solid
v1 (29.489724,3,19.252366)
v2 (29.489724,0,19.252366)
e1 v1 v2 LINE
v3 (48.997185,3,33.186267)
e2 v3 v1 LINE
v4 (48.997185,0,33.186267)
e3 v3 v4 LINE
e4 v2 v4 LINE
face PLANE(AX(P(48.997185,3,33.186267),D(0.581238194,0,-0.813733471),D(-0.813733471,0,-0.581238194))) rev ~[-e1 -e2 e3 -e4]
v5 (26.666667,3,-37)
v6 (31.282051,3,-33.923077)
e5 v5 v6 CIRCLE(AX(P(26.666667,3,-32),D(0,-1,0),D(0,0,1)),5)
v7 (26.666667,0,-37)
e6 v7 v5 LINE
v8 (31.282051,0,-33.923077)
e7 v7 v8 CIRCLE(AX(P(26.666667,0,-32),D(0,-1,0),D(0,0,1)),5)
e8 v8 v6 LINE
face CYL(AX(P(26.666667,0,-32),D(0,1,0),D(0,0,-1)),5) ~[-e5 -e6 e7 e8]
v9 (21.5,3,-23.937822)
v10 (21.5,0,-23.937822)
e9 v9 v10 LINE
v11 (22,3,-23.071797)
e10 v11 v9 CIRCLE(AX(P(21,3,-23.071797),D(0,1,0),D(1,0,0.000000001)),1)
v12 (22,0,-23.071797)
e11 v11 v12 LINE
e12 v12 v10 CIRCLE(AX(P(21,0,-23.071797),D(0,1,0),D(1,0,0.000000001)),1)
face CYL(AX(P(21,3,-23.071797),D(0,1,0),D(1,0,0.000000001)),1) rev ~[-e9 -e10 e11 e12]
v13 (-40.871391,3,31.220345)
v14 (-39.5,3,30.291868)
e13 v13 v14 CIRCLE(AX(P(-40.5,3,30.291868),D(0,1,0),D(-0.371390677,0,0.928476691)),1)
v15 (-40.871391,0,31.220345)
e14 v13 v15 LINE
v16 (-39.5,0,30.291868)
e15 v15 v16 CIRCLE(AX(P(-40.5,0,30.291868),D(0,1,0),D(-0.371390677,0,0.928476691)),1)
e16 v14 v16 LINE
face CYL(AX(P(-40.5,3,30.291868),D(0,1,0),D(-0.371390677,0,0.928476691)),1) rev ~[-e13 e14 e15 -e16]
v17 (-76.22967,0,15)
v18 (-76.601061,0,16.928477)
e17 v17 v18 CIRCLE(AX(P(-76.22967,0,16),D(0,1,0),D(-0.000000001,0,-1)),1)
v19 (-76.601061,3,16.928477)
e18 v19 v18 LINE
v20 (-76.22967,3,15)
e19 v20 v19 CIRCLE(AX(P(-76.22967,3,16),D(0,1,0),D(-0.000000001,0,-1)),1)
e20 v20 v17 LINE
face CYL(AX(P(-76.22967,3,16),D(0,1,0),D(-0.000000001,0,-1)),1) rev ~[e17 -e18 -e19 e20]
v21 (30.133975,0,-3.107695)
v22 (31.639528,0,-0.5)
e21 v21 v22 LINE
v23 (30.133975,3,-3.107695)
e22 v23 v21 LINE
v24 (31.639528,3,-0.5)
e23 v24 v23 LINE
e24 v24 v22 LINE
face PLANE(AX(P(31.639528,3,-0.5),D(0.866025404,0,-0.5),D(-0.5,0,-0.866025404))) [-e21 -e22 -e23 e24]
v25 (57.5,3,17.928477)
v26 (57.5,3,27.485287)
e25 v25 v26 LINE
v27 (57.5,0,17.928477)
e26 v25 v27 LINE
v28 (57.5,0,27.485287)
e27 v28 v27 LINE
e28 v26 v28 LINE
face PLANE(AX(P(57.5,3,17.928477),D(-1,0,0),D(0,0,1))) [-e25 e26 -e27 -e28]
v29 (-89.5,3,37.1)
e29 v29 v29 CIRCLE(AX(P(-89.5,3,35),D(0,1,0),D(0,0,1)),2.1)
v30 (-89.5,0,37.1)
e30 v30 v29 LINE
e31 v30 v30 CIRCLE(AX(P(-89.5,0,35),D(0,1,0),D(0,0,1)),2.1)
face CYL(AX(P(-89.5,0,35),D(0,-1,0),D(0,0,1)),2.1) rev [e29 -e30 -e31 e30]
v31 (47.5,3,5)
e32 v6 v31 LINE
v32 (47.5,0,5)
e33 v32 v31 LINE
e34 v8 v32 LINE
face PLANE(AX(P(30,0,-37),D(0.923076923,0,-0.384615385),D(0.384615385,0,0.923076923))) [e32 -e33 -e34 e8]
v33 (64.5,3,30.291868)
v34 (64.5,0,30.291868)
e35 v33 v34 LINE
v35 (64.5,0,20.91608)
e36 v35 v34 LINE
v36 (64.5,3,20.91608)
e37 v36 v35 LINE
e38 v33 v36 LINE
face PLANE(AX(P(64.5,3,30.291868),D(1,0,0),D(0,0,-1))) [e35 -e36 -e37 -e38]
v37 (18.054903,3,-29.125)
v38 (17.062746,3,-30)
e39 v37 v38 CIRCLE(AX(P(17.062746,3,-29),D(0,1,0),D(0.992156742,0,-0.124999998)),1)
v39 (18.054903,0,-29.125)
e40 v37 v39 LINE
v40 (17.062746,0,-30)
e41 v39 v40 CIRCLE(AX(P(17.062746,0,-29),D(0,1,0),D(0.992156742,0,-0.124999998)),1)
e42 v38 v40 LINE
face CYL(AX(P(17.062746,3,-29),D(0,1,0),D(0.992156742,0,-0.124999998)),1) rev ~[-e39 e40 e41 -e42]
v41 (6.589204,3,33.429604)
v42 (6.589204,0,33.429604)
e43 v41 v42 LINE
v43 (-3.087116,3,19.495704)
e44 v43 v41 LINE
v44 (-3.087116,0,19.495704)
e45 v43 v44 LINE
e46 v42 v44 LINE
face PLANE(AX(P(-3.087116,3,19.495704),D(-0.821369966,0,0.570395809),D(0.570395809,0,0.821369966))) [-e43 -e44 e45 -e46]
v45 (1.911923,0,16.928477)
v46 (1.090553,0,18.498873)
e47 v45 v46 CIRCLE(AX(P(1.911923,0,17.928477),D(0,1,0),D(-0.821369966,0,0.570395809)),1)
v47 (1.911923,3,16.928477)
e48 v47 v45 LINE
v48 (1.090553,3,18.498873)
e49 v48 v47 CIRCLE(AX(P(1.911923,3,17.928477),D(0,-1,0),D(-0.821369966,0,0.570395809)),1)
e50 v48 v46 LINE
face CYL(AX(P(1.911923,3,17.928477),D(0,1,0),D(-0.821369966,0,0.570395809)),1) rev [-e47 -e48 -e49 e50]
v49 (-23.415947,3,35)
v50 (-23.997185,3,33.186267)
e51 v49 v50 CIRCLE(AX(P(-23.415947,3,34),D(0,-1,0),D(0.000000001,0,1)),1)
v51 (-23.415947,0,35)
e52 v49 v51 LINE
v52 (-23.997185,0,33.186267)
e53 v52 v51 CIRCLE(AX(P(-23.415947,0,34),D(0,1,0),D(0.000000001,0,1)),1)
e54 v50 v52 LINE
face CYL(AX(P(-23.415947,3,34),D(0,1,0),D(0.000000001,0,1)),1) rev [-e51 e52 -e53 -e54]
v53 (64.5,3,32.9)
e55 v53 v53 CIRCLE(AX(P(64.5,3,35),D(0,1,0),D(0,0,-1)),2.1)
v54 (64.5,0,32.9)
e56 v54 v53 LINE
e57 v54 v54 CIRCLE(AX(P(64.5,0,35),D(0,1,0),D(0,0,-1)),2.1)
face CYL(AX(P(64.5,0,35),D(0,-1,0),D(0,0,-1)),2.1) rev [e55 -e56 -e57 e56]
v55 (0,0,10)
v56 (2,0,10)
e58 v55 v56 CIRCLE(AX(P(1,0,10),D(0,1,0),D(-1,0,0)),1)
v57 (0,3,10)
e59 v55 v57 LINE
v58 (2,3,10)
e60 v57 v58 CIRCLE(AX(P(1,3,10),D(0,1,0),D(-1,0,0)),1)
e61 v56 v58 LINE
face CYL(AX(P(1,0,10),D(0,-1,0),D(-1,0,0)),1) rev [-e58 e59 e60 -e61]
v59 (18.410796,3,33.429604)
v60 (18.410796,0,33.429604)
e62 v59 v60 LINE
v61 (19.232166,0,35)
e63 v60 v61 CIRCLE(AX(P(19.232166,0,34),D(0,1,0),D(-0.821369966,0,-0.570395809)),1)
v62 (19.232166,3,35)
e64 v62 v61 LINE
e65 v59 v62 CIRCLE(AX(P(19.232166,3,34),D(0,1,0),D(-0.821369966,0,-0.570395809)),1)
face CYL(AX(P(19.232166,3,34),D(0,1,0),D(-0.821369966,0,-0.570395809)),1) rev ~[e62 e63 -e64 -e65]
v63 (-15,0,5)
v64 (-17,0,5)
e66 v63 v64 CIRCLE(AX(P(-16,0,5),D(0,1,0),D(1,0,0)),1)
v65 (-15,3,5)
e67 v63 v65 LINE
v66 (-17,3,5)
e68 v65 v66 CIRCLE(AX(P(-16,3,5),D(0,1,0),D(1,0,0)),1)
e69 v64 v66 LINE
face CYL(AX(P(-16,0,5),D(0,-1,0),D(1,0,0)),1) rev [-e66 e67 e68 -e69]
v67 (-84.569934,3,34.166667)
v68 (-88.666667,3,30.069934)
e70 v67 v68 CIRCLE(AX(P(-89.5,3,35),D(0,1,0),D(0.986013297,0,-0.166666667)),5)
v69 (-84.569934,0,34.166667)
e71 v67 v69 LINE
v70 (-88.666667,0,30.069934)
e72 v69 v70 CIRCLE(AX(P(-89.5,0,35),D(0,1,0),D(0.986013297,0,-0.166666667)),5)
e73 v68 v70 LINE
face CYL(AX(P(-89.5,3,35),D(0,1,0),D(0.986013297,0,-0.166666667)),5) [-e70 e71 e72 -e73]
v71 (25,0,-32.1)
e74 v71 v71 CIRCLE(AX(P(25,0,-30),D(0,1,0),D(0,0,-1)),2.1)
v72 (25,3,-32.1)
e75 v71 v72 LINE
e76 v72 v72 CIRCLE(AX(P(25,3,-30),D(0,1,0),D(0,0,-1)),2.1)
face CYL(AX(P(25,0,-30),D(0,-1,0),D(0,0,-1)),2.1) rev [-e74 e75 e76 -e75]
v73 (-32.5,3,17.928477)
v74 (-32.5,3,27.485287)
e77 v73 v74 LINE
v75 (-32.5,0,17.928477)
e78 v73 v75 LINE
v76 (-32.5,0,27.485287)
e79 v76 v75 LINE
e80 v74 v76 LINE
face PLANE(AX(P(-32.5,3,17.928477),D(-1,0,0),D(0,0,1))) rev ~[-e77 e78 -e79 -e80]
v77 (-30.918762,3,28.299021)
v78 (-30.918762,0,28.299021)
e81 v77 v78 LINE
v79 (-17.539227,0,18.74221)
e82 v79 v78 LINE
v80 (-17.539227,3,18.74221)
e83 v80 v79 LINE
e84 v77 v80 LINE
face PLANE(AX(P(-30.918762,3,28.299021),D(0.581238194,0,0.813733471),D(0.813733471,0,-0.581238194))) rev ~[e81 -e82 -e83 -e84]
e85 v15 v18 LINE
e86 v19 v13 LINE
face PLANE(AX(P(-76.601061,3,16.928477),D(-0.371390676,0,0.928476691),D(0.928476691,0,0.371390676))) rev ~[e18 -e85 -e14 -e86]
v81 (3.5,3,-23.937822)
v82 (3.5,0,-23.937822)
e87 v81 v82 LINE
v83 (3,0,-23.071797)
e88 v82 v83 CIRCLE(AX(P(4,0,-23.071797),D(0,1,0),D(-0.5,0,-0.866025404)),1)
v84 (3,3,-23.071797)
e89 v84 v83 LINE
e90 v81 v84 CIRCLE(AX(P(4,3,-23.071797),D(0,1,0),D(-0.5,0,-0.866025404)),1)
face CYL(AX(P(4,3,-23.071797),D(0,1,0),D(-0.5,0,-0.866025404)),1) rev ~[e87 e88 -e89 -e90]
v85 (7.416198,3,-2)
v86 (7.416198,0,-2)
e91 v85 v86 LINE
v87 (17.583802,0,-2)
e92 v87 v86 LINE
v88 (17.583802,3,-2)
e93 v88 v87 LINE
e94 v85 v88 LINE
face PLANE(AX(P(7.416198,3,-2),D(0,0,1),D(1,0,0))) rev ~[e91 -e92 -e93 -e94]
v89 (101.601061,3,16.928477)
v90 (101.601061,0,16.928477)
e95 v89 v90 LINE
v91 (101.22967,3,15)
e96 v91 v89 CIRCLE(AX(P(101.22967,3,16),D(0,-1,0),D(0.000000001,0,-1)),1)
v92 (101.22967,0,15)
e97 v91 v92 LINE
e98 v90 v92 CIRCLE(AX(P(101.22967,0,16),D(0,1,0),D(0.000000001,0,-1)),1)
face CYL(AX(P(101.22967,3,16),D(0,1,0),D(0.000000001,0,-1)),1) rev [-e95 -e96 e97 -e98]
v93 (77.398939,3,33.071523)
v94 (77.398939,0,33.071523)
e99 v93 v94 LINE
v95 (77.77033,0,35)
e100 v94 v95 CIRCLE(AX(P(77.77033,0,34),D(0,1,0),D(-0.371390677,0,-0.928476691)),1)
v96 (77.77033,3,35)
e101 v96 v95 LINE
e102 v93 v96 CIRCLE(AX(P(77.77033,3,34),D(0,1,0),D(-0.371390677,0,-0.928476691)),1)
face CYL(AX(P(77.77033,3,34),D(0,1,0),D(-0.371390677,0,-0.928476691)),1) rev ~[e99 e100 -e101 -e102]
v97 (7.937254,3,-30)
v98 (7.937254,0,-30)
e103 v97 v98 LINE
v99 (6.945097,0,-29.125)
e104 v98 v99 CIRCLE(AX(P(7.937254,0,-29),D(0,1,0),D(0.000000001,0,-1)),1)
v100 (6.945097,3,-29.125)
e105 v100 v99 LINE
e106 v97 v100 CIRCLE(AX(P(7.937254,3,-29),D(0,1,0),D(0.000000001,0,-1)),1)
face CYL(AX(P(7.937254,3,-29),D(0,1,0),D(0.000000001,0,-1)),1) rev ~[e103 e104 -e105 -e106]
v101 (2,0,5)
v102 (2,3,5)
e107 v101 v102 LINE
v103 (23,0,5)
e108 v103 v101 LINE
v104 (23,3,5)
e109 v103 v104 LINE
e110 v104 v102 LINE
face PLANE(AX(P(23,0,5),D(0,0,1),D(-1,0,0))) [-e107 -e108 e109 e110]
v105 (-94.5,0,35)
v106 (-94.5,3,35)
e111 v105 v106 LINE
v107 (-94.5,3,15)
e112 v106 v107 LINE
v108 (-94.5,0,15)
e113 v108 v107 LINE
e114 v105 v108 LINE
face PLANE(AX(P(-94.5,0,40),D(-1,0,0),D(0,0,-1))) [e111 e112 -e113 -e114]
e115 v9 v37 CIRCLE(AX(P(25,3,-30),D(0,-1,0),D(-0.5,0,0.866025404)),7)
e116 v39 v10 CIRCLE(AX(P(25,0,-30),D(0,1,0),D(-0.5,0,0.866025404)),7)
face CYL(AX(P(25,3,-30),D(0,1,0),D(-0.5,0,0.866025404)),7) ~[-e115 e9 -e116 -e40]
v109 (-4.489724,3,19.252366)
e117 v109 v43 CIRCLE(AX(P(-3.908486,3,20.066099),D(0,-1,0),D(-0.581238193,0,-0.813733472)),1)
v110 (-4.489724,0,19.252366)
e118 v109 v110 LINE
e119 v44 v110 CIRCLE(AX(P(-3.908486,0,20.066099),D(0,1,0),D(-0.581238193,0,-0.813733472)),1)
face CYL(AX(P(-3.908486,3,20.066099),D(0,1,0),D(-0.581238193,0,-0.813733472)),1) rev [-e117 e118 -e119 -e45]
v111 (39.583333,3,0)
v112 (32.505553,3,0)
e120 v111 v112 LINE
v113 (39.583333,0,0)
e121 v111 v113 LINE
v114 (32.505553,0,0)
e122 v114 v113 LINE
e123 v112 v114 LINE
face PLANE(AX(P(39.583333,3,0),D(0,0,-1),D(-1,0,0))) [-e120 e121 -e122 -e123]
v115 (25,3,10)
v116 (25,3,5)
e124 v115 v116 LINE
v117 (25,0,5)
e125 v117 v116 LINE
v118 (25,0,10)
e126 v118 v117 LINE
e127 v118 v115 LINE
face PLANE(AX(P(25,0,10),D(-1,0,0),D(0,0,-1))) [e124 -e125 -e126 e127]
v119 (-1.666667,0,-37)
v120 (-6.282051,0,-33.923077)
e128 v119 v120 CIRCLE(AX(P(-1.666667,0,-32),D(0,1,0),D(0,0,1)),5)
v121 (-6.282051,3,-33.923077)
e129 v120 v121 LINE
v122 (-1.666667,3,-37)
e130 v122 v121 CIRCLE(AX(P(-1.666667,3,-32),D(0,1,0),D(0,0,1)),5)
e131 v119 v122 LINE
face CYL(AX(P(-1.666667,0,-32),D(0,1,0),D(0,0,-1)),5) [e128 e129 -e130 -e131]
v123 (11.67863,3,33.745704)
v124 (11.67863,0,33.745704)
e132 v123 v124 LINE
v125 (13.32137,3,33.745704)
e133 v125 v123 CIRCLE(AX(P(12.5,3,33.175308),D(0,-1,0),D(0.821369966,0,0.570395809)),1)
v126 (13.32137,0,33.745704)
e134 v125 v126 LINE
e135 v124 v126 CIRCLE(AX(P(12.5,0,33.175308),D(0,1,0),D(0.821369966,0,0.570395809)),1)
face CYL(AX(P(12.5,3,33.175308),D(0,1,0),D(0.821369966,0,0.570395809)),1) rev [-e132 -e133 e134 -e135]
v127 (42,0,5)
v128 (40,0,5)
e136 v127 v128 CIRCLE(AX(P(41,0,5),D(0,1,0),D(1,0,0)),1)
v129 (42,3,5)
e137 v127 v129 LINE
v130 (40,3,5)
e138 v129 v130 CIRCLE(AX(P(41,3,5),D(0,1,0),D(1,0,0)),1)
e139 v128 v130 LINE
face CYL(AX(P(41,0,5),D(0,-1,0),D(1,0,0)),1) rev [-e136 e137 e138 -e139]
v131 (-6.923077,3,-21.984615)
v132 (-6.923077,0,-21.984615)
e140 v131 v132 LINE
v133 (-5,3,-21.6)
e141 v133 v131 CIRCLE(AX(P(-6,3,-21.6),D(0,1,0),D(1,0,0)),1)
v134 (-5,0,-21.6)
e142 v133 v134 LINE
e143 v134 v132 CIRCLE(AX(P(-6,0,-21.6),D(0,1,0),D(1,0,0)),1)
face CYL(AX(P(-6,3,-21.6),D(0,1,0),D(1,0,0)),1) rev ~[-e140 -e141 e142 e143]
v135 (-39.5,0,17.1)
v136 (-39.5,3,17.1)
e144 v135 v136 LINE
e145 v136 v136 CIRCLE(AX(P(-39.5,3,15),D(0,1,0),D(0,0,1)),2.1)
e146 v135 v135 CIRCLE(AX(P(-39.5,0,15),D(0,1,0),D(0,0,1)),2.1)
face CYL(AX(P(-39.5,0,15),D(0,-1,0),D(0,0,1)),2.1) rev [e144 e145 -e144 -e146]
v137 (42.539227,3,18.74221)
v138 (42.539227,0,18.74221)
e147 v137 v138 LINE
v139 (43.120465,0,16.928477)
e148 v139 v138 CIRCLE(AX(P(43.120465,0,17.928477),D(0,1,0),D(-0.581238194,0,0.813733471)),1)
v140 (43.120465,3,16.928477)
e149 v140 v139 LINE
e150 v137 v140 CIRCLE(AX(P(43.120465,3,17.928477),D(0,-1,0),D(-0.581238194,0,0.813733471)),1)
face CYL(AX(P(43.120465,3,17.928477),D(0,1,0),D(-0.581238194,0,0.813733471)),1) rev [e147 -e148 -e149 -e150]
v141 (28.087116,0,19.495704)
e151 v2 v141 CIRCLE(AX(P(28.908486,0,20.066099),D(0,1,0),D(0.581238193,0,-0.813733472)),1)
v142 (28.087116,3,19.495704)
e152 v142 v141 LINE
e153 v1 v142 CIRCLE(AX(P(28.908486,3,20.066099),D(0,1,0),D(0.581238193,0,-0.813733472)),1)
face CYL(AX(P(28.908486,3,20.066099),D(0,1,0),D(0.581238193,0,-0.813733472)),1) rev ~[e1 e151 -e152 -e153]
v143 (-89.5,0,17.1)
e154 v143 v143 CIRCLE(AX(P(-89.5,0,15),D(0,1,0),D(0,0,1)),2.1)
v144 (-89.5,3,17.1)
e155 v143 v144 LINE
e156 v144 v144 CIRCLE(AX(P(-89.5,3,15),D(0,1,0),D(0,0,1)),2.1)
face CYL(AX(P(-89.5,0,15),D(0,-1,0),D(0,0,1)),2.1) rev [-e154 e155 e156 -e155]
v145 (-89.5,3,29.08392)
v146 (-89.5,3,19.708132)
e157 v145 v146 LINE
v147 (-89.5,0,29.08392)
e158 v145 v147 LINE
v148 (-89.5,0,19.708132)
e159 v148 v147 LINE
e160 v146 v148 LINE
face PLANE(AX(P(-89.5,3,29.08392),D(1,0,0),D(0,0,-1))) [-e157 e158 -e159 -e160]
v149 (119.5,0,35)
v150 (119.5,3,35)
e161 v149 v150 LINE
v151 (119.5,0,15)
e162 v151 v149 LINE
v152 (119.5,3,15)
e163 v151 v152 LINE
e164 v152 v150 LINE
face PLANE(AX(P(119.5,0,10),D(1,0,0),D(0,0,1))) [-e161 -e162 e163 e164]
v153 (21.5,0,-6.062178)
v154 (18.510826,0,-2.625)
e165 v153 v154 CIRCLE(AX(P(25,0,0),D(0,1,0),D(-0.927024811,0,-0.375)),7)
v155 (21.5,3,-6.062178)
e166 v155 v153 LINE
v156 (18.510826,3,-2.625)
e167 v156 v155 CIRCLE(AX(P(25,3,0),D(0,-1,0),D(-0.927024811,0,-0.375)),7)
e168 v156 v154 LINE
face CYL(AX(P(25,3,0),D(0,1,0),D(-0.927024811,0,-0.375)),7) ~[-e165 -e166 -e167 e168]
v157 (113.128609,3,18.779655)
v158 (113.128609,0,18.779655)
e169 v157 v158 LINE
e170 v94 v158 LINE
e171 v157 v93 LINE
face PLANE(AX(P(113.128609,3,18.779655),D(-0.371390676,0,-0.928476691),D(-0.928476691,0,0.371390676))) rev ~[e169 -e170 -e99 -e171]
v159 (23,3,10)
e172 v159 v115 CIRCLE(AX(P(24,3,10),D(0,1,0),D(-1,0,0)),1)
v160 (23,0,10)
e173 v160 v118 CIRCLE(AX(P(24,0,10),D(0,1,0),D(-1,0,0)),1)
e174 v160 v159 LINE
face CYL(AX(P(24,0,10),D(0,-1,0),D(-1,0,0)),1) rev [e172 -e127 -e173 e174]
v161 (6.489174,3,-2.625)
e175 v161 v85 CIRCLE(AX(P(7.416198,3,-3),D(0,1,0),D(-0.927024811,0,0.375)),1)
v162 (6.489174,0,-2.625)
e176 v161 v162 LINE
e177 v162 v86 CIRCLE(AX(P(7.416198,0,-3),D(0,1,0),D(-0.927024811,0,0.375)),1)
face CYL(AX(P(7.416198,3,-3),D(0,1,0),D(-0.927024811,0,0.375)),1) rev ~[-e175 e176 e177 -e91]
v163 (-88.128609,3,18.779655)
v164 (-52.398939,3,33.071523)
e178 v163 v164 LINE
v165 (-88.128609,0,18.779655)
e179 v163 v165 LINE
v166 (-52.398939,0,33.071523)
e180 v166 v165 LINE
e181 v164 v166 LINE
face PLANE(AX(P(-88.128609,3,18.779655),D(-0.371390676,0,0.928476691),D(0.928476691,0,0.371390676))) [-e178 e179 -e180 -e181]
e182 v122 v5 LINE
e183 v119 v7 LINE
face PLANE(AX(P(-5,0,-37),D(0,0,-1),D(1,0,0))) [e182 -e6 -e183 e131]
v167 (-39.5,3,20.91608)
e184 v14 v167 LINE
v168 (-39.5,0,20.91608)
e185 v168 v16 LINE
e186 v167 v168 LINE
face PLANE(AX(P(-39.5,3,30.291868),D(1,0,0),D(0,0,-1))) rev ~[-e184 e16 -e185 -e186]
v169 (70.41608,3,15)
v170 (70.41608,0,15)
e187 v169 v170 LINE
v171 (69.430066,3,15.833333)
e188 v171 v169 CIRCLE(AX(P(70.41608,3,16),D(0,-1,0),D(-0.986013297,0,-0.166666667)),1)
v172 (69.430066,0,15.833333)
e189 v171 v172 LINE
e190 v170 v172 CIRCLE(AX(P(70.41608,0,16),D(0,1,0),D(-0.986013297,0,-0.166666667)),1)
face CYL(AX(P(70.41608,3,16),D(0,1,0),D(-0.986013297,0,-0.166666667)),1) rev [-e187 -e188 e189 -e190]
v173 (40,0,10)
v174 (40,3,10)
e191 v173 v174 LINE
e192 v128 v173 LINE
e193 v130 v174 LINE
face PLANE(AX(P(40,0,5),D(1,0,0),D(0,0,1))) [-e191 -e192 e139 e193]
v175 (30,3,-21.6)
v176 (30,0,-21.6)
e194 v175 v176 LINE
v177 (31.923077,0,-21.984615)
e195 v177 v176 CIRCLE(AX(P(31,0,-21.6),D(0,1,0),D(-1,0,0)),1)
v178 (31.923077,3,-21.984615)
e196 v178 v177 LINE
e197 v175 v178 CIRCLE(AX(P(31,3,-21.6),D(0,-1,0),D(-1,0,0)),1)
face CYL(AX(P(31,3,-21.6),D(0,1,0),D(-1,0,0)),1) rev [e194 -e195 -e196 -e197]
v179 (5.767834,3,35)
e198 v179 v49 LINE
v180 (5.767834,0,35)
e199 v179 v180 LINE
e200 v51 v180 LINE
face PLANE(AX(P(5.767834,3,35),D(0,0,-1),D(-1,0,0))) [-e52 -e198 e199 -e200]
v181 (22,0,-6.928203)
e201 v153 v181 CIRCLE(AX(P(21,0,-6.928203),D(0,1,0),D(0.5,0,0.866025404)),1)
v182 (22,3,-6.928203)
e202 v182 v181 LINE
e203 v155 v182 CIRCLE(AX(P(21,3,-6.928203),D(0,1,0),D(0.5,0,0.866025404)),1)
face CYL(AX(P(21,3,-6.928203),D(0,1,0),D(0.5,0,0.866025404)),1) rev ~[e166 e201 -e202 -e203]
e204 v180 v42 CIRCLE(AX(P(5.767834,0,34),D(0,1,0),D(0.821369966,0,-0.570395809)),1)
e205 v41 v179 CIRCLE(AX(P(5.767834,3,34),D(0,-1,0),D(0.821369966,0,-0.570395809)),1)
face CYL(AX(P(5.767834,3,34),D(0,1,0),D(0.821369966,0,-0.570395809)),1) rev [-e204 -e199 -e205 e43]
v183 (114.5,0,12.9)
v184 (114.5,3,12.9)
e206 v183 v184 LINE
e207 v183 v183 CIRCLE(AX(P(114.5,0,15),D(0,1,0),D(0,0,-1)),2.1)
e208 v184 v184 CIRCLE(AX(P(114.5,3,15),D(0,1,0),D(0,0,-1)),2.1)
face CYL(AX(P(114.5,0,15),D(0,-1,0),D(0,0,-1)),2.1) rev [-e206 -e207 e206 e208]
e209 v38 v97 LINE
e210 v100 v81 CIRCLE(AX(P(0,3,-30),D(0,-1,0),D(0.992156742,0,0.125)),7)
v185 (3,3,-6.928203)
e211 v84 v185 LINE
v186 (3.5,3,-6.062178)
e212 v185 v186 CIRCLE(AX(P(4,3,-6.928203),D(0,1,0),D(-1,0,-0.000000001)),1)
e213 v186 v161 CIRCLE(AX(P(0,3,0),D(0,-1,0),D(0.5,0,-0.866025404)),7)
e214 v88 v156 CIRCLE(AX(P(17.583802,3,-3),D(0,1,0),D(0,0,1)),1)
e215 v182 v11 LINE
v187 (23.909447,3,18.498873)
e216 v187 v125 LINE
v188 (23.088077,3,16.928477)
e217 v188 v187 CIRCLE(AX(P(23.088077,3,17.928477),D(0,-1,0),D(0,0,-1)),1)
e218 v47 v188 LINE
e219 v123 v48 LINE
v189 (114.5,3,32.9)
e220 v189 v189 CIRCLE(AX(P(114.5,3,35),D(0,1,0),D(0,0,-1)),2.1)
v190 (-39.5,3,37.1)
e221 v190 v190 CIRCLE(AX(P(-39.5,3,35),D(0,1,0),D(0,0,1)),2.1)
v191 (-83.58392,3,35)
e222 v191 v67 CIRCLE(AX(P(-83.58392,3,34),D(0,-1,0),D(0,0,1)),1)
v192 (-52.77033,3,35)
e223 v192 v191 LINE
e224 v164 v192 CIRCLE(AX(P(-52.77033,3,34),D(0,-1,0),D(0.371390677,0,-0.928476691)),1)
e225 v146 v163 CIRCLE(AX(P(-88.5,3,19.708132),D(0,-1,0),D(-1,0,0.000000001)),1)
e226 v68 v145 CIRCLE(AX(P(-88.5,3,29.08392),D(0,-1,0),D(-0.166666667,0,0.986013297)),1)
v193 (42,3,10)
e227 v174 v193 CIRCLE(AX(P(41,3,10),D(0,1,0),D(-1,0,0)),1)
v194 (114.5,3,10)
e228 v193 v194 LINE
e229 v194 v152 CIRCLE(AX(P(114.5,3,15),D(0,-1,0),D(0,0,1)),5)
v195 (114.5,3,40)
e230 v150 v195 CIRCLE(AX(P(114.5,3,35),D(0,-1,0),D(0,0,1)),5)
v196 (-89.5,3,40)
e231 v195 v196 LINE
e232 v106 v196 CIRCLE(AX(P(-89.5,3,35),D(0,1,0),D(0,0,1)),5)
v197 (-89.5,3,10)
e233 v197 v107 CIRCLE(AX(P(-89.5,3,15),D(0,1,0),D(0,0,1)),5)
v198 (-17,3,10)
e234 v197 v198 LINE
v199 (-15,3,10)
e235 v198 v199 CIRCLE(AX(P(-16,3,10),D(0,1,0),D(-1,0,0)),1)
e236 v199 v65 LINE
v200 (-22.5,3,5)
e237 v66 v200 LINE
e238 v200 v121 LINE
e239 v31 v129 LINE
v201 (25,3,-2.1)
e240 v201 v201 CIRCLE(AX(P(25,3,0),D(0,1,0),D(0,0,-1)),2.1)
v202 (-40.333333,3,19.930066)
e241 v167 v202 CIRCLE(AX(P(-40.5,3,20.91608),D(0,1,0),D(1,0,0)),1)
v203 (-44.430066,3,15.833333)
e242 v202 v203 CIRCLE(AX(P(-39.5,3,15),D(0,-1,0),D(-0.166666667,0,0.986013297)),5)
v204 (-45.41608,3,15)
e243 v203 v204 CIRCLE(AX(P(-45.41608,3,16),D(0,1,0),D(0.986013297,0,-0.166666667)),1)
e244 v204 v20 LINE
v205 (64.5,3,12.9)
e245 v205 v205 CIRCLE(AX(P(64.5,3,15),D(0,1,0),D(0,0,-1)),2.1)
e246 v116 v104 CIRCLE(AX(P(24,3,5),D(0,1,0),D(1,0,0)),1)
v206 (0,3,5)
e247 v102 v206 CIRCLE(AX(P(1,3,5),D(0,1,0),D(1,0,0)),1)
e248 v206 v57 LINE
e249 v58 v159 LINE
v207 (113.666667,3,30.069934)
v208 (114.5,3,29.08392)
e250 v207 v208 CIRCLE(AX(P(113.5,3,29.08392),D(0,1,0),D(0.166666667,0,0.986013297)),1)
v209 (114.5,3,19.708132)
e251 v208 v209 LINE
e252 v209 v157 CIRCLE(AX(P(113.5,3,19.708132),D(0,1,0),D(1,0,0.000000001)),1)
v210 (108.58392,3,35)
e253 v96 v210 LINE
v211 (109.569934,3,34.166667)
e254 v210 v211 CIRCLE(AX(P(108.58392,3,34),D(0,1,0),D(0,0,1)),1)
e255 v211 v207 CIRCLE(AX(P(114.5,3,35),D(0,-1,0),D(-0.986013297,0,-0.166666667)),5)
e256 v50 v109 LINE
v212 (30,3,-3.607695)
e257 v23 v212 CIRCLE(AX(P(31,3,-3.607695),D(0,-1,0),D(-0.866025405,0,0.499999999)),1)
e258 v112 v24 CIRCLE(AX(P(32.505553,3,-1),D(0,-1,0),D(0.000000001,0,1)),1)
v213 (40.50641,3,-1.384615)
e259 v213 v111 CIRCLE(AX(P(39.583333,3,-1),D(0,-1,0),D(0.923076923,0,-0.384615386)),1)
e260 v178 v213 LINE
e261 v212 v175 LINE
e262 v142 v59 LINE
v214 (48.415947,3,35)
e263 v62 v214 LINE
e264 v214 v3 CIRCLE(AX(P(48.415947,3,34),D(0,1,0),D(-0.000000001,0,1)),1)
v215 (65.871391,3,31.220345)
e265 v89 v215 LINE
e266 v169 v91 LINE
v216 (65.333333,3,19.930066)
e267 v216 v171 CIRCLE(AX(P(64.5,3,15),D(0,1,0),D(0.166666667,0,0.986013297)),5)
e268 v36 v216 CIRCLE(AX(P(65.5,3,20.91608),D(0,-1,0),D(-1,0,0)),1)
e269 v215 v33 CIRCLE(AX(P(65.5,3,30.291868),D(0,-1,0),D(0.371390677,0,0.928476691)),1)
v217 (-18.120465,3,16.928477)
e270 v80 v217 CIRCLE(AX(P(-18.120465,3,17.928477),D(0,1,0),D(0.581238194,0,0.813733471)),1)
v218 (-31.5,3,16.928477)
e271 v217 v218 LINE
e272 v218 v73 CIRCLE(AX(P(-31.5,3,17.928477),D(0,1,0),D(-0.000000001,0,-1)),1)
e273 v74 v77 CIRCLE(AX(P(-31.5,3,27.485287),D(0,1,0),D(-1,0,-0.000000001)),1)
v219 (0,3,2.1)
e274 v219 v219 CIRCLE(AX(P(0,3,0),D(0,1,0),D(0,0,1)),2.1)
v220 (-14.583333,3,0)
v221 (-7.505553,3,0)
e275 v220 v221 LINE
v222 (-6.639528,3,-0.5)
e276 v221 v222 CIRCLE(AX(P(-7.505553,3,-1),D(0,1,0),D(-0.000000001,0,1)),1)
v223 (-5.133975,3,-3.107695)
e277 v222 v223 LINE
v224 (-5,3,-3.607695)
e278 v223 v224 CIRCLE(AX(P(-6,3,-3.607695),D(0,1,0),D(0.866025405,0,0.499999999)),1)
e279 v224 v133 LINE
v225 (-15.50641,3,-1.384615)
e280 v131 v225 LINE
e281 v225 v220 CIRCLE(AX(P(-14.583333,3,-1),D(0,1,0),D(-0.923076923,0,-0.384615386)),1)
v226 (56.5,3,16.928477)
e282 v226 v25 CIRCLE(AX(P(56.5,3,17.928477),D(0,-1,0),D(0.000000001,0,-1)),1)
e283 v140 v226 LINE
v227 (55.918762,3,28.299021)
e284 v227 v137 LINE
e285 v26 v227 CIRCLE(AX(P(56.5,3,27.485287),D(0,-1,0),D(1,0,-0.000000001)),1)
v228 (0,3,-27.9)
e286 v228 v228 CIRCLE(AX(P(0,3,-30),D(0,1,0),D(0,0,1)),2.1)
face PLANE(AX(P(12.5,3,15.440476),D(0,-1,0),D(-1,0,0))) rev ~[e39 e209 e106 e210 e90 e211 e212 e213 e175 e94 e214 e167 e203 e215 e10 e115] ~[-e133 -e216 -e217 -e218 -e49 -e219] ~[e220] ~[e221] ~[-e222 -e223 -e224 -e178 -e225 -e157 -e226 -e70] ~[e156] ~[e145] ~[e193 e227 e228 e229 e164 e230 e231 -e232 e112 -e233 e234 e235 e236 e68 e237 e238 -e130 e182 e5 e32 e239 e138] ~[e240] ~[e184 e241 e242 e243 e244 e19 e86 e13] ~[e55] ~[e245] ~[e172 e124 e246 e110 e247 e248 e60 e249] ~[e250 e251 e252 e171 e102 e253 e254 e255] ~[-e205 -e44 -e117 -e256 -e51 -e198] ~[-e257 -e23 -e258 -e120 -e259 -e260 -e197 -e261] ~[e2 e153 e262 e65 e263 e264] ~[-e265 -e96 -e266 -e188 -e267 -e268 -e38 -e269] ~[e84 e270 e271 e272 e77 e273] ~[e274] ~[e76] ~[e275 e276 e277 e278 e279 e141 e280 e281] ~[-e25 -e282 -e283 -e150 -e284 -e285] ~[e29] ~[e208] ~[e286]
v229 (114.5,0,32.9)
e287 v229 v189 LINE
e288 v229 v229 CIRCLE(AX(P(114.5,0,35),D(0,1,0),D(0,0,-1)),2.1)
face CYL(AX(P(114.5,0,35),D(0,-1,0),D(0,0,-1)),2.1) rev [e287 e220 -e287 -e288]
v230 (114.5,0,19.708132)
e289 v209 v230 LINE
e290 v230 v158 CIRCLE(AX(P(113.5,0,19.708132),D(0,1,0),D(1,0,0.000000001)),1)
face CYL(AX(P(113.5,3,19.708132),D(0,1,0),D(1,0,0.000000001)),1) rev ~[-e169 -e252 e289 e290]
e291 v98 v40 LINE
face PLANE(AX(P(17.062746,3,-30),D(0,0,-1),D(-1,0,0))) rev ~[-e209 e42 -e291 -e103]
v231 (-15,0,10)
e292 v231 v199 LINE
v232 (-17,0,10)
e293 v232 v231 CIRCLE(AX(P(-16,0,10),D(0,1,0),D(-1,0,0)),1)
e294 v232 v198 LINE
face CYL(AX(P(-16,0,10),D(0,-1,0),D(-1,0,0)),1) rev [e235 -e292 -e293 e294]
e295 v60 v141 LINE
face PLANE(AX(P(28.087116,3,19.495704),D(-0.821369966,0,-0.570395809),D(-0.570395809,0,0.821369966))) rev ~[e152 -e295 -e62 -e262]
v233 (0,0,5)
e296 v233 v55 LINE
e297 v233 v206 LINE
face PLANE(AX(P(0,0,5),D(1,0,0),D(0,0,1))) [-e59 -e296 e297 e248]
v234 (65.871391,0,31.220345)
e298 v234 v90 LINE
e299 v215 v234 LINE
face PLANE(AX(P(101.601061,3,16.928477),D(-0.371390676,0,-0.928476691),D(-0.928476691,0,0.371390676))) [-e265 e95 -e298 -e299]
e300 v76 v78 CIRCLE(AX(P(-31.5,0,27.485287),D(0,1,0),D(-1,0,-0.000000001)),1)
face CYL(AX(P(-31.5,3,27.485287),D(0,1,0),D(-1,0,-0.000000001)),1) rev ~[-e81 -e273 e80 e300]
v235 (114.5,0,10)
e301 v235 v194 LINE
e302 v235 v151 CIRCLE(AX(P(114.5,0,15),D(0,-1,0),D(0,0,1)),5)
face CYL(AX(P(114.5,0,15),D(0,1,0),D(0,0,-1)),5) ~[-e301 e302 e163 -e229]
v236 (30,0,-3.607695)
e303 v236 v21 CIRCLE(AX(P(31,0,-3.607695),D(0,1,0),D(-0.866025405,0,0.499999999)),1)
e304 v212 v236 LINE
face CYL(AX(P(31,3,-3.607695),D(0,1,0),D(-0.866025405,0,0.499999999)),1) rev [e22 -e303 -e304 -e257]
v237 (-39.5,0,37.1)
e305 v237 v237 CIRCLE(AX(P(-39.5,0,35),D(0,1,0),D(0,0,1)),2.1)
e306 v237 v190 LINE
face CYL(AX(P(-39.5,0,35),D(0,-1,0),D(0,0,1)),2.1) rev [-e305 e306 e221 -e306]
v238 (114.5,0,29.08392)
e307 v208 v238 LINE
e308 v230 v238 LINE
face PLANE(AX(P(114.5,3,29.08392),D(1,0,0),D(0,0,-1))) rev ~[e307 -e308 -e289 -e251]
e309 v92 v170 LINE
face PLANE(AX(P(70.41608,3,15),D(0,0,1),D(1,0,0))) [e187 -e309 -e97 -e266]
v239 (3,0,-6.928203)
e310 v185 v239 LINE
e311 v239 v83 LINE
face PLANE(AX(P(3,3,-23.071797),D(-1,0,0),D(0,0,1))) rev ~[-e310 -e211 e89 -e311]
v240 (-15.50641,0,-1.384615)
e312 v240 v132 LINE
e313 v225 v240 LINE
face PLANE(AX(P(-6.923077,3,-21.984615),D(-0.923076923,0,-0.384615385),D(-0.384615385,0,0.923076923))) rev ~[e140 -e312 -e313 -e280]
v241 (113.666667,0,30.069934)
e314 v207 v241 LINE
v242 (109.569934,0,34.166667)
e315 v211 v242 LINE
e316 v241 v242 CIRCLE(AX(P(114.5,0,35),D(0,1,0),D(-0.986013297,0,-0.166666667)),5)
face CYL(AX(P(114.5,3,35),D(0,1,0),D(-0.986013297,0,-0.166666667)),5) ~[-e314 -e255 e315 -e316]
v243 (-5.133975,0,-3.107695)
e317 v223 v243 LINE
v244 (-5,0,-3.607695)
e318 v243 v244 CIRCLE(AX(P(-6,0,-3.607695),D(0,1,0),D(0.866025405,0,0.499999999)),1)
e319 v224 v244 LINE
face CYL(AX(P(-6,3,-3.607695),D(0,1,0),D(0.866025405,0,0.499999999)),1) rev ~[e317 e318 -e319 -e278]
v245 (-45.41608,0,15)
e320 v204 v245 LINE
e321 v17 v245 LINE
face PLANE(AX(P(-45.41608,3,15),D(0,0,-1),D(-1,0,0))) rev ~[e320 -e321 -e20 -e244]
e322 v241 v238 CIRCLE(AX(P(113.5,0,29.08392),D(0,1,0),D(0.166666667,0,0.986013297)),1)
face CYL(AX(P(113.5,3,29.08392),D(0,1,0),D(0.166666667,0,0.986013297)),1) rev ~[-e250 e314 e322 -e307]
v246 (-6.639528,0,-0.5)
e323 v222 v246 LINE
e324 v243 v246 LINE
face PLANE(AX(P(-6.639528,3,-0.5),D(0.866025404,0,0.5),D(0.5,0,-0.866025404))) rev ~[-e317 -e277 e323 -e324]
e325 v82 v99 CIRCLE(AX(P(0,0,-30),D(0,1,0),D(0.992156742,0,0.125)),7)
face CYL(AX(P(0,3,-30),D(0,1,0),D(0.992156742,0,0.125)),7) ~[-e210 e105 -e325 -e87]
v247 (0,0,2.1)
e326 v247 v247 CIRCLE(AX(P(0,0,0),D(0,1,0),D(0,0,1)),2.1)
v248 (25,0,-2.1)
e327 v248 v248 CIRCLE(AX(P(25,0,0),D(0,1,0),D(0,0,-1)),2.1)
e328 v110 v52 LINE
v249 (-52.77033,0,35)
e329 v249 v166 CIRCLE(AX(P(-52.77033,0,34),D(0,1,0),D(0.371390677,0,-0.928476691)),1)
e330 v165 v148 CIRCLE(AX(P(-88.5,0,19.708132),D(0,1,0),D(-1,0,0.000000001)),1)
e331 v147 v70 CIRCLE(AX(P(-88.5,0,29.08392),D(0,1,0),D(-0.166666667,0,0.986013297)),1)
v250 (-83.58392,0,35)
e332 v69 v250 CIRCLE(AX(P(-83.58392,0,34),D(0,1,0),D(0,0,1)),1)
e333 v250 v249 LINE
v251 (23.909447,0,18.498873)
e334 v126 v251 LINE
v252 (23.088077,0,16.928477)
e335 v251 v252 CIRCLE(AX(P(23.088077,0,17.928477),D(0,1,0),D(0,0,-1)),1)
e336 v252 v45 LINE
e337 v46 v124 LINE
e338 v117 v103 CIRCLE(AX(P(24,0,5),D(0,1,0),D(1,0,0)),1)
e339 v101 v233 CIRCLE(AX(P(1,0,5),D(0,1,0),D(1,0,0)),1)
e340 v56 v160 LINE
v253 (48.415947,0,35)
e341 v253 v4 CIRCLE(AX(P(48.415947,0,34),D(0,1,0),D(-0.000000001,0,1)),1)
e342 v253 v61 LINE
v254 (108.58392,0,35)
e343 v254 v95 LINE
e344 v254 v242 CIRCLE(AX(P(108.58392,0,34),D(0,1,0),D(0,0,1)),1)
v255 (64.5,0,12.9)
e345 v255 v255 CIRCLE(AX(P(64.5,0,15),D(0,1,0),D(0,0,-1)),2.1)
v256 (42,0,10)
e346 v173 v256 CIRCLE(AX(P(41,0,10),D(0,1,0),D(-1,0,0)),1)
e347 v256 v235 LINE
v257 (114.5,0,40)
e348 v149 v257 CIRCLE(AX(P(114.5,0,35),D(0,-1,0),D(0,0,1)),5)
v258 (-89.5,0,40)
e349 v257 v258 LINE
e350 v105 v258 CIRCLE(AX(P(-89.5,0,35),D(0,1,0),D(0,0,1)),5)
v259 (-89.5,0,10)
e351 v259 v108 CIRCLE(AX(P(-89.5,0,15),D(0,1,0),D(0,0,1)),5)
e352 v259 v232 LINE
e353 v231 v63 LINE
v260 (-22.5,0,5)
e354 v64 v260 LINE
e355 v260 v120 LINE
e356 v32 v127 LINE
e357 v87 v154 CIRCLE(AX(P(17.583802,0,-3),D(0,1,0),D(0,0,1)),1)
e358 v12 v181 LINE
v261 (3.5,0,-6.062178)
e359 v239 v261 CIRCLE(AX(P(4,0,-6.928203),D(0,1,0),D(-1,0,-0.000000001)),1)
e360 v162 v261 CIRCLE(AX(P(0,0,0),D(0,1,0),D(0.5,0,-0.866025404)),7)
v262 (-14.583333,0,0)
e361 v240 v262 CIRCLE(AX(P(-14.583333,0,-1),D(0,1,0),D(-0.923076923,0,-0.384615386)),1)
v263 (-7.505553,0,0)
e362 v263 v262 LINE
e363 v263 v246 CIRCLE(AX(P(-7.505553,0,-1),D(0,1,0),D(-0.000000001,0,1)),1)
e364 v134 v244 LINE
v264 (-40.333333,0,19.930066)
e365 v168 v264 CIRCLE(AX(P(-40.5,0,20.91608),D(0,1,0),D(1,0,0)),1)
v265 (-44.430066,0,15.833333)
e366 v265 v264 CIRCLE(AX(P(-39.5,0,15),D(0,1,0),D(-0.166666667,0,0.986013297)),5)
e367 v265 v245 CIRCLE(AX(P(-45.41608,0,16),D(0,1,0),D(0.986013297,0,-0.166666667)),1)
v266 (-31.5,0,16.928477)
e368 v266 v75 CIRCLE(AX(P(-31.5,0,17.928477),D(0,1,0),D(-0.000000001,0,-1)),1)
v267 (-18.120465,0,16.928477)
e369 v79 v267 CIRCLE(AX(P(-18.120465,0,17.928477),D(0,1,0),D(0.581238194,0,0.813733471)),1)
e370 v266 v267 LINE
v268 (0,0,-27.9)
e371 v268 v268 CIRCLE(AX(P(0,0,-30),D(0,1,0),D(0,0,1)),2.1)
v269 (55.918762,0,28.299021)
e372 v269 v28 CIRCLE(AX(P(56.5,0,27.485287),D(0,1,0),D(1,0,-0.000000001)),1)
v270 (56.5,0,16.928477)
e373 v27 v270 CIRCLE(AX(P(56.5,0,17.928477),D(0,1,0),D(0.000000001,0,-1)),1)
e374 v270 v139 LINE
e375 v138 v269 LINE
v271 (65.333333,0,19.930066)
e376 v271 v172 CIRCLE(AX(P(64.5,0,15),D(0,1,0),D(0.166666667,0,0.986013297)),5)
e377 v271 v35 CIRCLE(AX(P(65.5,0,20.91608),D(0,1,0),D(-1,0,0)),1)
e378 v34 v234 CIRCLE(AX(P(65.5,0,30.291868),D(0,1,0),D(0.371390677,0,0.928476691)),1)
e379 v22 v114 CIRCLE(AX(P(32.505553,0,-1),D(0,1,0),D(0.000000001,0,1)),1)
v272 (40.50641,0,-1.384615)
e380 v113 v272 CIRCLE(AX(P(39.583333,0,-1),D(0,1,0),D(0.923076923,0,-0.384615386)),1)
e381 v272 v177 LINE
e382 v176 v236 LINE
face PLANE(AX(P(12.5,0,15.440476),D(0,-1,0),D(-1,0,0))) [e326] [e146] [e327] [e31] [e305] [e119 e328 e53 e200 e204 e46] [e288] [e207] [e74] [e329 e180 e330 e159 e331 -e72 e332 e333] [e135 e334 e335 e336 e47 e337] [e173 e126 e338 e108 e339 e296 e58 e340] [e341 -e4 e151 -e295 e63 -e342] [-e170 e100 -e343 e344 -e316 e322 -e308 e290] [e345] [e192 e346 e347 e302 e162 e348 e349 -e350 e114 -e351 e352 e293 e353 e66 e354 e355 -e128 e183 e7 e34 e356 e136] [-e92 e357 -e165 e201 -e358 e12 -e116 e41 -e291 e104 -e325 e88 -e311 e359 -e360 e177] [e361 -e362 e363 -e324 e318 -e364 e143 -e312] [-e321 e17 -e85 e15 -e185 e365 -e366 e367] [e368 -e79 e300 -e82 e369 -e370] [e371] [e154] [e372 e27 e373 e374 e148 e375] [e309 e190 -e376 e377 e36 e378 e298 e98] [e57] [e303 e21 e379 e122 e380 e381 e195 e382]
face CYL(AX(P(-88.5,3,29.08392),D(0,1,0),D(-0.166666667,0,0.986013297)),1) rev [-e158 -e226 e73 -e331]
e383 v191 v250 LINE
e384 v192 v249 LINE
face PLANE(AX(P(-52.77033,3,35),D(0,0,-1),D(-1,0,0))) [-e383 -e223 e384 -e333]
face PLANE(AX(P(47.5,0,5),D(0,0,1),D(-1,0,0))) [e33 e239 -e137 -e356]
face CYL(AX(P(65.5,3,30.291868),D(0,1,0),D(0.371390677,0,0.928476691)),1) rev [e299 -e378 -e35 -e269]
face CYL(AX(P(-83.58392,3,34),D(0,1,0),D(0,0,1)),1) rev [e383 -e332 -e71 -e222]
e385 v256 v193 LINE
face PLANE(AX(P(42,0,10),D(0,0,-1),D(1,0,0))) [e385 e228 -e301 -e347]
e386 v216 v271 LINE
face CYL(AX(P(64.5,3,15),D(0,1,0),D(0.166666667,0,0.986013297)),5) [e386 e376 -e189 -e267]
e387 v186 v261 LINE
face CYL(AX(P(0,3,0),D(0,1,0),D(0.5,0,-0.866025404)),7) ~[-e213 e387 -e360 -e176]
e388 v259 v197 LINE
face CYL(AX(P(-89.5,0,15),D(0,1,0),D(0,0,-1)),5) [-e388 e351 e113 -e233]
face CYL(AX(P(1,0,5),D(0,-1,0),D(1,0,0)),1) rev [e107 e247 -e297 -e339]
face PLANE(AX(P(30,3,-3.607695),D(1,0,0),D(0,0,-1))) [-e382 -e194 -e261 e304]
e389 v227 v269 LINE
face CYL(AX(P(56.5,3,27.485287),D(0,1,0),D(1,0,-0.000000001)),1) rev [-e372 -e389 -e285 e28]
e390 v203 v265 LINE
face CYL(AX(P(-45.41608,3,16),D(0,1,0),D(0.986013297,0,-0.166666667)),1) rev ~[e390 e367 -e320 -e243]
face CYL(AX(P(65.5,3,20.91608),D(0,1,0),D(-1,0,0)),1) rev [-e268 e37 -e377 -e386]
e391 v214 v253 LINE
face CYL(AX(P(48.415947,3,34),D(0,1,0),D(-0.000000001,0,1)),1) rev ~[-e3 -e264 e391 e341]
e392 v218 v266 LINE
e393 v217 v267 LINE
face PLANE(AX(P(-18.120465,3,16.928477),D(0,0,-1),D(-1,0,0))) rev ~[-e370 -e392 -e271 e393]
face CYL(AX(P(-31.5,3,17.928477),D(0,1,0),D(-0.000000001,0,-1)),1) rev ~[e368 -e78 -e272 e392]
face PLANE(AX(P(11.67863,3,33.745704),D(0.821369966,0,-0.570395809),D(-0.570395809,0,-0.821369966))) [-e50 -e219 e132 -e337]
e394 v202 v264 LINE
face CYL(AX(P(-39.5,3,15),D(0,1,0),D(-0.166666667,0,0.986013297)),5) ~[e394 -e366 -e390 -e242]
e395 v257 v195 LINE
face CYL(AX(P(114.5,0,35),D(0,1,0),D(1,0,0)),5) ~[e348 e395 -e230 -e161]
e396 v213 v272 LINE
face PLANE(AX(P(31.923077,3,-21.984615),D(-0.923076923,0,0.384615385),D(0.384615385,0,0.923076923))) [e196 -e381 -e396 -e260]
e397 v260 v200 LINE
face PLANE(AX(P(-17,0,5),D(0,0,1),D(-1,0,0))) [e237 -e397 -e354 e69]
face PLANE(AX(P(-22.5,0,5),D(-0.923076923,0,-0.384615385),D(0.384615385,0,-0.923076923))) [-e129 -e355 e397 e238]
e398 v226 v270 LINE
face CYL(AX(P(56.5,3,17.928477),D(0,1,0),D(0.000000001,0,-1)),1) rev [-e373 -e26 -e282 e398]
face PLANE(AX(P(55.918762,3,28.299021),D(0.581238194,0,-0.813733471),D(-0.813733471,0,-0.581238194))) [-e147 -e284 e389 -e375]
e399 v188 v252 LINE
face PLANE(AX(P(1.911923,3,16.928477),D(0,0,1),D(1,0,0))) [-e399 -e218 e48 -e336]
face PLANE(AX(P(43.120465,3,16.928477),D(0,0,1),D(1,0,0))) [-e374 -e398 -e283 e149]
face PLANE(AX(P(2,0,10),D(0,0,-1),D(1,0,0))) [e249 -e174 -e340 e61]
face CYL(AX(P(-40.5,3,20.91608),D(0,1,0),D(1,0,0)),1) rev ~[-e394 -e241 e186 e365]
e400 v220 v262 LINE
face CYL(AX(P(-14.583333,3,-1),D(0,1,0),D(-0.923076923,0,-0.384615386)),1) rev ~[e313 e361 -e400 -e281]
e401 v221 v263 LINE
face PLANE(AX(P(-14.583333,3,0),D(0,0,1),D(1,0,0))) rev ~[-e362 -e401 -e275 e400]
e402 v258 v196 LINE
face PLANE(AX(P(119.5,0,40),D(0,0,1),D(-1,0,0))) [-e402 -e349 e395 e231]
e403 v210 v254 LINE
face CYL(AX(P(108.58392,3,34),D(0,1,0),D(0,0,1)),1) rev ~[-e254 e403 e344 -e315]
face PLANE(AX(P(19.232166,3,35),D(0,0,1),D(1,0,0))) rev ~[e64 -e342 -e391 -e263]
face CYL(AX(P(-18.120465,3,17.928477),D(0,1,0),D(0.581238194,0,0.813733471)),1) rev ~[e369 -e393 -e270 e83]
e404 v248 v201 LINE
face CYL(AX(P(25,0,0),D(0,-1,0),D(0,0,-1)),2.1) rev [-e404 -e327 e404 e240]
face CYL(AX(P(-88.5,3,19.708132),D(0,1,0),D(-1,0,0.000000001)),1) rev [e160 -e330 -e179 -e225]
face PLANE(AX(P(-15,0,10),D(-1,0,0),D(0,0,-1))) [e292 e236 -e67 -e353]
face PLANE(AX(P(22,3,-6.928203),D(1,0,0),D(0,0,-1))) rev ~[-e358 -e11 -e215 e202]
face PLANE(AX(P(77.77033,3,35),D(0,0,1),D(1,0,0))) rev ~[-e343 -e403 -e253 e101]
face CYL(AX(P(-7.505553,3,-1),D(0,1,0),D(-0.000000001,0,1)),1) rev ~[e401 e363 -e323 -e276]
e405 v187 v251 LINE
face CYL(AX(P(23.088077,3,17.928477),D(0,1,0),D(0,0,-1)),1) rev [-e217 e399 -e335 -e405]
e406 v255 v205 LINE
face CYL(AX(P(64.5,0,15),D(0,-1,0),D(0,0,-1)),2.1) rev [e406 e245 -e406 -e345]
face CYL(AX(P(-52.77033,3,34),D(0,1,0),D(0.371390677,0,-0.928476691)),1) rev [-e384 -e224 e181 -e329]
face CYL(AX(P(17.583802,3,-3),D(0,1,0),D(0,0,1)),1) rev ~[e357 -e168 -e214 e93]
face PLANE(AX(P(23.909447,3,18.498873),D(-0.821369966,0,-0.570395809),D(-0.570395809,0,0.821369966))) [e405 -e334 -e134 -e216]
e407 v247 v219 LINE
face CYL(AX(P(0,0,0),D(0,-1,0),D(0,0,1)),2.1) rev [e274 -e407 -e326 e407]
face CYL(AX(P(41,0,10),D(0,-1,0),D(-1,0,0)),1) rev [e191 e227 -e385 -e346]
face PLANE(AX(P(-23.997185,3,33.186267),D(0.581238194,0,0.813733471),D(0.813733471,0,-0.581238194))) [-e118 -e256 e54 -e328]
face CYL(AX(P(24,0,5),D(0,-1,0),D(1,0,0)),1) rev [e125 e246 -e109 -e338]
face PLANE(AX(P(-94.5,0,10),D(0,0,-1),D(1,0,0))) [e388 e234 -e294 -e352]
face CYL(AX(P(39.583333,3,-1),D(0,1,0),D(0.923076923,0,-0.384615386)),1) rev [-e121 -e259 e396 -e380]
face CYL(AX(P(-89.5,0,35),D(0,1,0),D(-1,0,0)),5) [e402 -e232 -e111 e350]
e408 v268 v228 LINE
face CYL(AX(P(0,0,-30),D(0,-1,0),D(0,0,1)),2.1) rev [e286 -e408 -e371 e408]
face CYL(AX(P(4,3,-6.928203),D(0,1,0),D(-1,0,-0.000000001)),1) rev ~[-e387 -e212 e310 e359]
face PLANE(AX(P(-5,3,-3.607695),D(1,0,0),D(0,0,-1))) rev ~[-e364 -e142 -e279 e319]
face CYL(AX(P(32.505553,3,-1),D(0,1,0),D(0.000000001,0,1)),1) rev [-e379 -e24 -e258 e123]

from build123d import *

# Parameters (mm, degrees)
SKETCH_1_R          = 2.1
EXTRUDE_1_DEPTH     = 3
FILLET_1_R          = 5
CUT_EXTRUDE_1_DEPTH = 127.052568399


with BuildPart() as part:
    # 草图1 → 凸台-拉伸1 (new body)
    with BuildSketch(Plane(origin=(0, 0, 0), x_dir=(1, 0, 0), z_dir=(0, 1, 0))):
        with BuildLine():
            Line((-5, 37), (30, 37))
            Line((30, 37), (47.5, -5))
            Line((47.5, -5), (42, -5))
            ThreePointArc((42, -5), (41, -4), (40, -5))
            Line((40, -5), (40, -10))
            ThreePointArc((40, -10), (41, -11), (42, -10))
            Line((42, -10), (119.5, -10))
            Line((119.5, -10), (119.5, -40))
            Line((119.5, -40), (-94.5, -40))
            Line((-94.5, -40), (-94.5, -10))
            Line((-94.5, -10), (-17, -10))
            ThreePointArc((-17, -10), (-16, -11), (-15, -10))
            Line((-15, -10), (-15, -5))
            ThreePointArc((-15, -5), (-16, -4), (-17, -5))
            Line((-17, -5), (-22.5, -5))
            Line((-22.5, -5), (-5, 37))
        make_face()
        with Locations(Location((0, 30, 0), (0, 0, 270))):
            Circle(SKETCH_1_R, mode=Mode.SUBTRACT)
        with Locations(Location((0, 0, 0), (0, 0, 270))):
            Circle(SKETCH_1_R, mode=Mode.SUBTRACT)
        with Locations(Location((-89.5, -15, 0), (0, 0, 270))):
            Circle(SKETCH_1_R, mode=Mode.SUBTRACT)
        with Locations(Location((-39.5, -15, 0), (0, 0, 270))):
            Circle(SKETCH_1_R, mode=Mode.SUBTRACT)
        with Locations(Location((-89.5, -35, 0), (0, 0, 270))):
            Circle(SKETCH_1_R, mode=Mode.SUBTRACT)
        with Locations(Location((-39.5, -35, 0), (0, 0, 270))):
            Circle(SKETCH_1_R, mode=Mode.SUBTRACT)
        with Locations(Location((64.5, -35, 0), (0, 0, 90))):
            Circle(SKETCH_1_R, mode=Mode.SUBTRACT)
        with Locations(Location((114.5, -35, 0), (0, 0, 90))):
            Circle(SKETCH_1_R, mode=Mode.SUBTRACT)
        with Locations(Location((64.5, -15, 0), (0, 0, 90))):
            Circle(SKETCH_1_R, mode=Mode.SUBTRACT)
        with Locations(Location((114.5, -15, 0), (0, 0, 90))):
            Circle(SKETCH_1_R, mode=Mode.SUBTRACT)
        with Locations(Location((25, 0, 0), (0, 0, 90))):
            Circle(SKETCH_1_R, mode=Mode.SUBTRACT)
        with Locations(Location((25, 30, 0), (0, 0, 90))):
            Circle(SKETCH_1_R, mode=Mode.SUBTRACT)
        with BuildLine():
            Line((2, -10), (23, -10))
            ThreePointArc((23, -10), (24, -11), (25, -10))
            Line((25, -10), (25, -5))
            ThreePointArc((25, -5), (24, -4), (23, -5))
            Line((23, -5), (2, -5))
            ThreePointArc((2, -5), (1, -4), (0, -5))
            Line((0, -5), (0, -10))
            ThreePointArc((0, -10), (1, -11), (2, -10))
        make_face(mode=Mode.SUBTRACT)
    extrude(amount=EXTRUDE_1_DEPTH)

    # 圆角1
    fillet_1_edges = [part.edges().sort_by_distance(p)[0] for p in [
        (-5, 1.5, -37),
        (30, 1.5, -37),
        (119.5, 1.5, 10),
        (119.5, 1.5, 40),
        (-94.5, 1.5, 40),
        (-94.5, 1.5, 10),
    ]]
    fillet(fillet_1_edges, radius=FILLET_1_R)

    # 草图2 → 切除-拉伸1 (cut, through all)
    with BuildSketch(Plane(origin=(0, 3, 0), x_dir=(1, 0, 0), z_dir=(0, 1, 0))):
        with BuildLine():
            Line((-89.5, -29.083920217), (-89.5, -19.708131846))
            ThreePointArc((-89.5, -19.708131846), (-89.060628809, -18.880064615), (-88.128609324, -18.779655155))
            Line((-88.128609324, -18.779655155), (-52.398938938, -33.071523309))
            ThreePointArc((-52.398938938, -33.071523309), (-51.788373228, -34.189107521), (-52.770329614, -35))
            Line((-52.770329614, -35), (-83.583920217, -35))
            ThreePointArc((-83.583920217, -35), (-84.229417441, -34.763762616), (-84.569933514, -34.166666667))
            ThreePointArc((-84.569933514, -34.166666667), (-85.964466094, -31.464466094), (-88.666666667, -30.069933514))
            ThreePointArc((-88.666666667, -30.069933514), (-89.263762616, -29.729417441), (-89.5, -29.083920217))
        make_face()
        with BuildLine():
            Line((-45.416079783, -15), (-76.229670386, -15))
            ThreePointArc((-76.229670386, -15), (-77.211626772, -15.810892479), (-76.601061062, -16.928476691))
            Line((-76.601061062, -16.928476691), (-40.871390676, -31.220344845))
            ThreePointArc((-40.871390676, -31.220344845), (-39.939371191, -31.119935385), (-39.5, -30.291868154))
            Line((-39.5, -30.291868154), (-39.5, -20.916079783))
            ThreePointArc((-39.5, -20.916079783), (-39.736237384, -20.270582559), (-40.333333333, -19.930066486))
            ThreePointArc((-40.333333333, -19.930066486), (-43.035533906, -18.535533906), (-44.430066486, -15.833333333))
            ThreePointArc((-44.430066486, -15.833333333), (-44.770582559, -15.236237384), (-45.416079783, -15))
        make_face()
        with BuildLine():
            Line((64.5, -30.291868154), (64.5, -20.916079783))
            ThreePointArc((64.5, -20.916079783), (64.736237384, -20.270582559), (65.333333333, -19.930066486))
            ThreePointArc((65.333333333, -19.930066486), (68.035533906, -18.535533906), (69.430066486, -15.833333333))
            ThreePointArc((69.430066486, -15.833333333), (69.770582559, -15.236237384), (70.416079783, -15))
            Line((70.416079783, -15), (101.229670386, -15))
            ThreePointArc((101.229670386, -15), (102.211626772, -15.810892479), (101.601061062, -16.928476691))
            Line((101.601061062, -16.928476691), (65.871390676, -31.220344845))
            ThreePointArc((65.871390676, -31.220344845), (64.939371191, -31.119935385), (64.5, -30.291868154))
        make_face()
        with BuildLine():
            Line((77.770329614, -35), (108.583920217, -35))
            ThreePointArc((108.583920217, -35), (109.229417441, -34.763762616), (109.569933514, -34.166666667))
            ThreePointArc((109.569933514, -34.166666667), (110.964466094, -31.464466094), (113.666666667, -30.069933514))
            ThreePointArc((113.666666667, -30.069933514), (114.263762616, -29.729417441), (114.5, -29.083920217))
            Line((114.5, -29.083920217), (114.5, -19.708131846))
            ThreePointArc((114.5, -19.708131846), (114.060628809, -18.880064615), (113.128609324, -18.779655155))
            Line((113.128609324, -18.779655155), (77.398938938, -33.071523309))
            ThreePointArc((77.398938938, -33.071523309), (76.788373228, -34.189107521), (77.770329614, -35))
        make_face()
        with BuildLine():
            Line((-14.583333333, 0), (-7.505553499, 0))
            ThreePointArc((-7.505553499, 0), (-7.005553499, 0.133974596), (-6.639528096, 0.5))
            Line((-6.639528096, 0.5), (-5.133974596, 3.107695155))
            ThreePointArc((-5.133974596, 3.107695155), (-5.034074174, 3.348876109), (-5, 3.607695155))
            Line((-5, 3.607695155), (-5, 21.6))
            ThreePointArc((-5, 21.6), (-5.803883865, 22.580580676), (-6.923076923, 21.984615385))
            Line((-6.923076923, 21.984615385), (-15.506410256, 1.384615385))
            ThreePointArc((-15.506410256, 1.384615385), (-15.415383628, 0.445299804), (-14.583333333, 0))
        make_face()
        with BuildLine():
            Line((30, 3.607695155), (30, 21.6))
            ThreePointArc((30, 21.6), (30.803883865, 22.580580676), (31.923076923, 21.984615385))
            Line((31.923076923, 21.984615385), (40.506410256, 1.384615385))
            ThreePointArc((40.506410256, 1.384615385), (40.415383628, 0.445299804), (39.583333333, 0))
            Line((39.583333333, 0), (32.505553499, 0))
            ThreePointArc((32.505553499, 0), (32.005553499, 0.133974596), (31.639528096, 0.5))
            Line((31.639528096, 0.5), (30.133974596, 3.107695155))
            ThreePointArc((30.133974596, 3.107695155), (30.034074174, 3.348876109), (30, 3.607695155))
        make_face()
        with BuildLine():
            Line((3, 23.07179677), (3, 6.92820323))
            ThreePointArc((3, 6.92820323), (3.133974596, 6.42820323), (3.5, 6.062177826))
            ThreePointArc((3.5, 6.062177826), (5.281992573, 4.593533984), (6.489173676, 2.625))
            ThreePointArc((6.489173676, 2.625), (6.857181493, 2.170843802), (7.416198487, 2))
            Line((7.416198487, 2), (17.583801513, 2))
            ThreePointArc((17.583801513, 2), (18.142818507, 2.170843802), (18.510826324, 2.625))
            ThreePointArc((18.510826324, 2.625), (19.718007427, 4.593533984), (21.5, 6.062177826))
            ThreePointArc((21.5, 6.062177826), (21.866025404, 6.42820323), (22, 6.92820323))
            Line((22, 6.92820323), (22, 23.07179677))
            ThreePointArc((22, 23.07179677), (21.866025404, 23.57179677), (21.5, 23.937822174))
            ThreePointArc((21.5, 23.937822174), (19.168900851, 26.127238361), (18.054902808, 29.125))
            ThreePointArc((18.054902808, 29.125), (17.724183895, 29.75), (17.062746067, 30))
            Line((17.062746067, 30), (7.937253933, 30))
            ThreePointArc((7.937253933, 30), (7.275816105, 29.75), (6.945097192, 29.125))
            ThreePointArc((6.945097192, 29.125), (5.831099149, 26.127238361), (3.5, 23.937822174))
            ThreePointArc((3.5, 23.937822174), (3.133974596, 23.57179677), (3, 23.07179677))
        make_face()
        with BuildLine():
            Line((1.911922611, -16.928476691), (23.088077389, -16.928476691))
            ThreePointArc((23.088077389, -16.928476691), (23.974191323, -17.465009221), (23.909447355, -18.4988725))
            Line((23.909447355, -18.4988725), (13.321369966, -33.74570394))
            ThreePointArc((13.321369966, -33.74570394), (12.5, -34.175308131), (11.678630034, -33.74570394))
            Line((11.678630034, -33.74570394), (1.090552645, -18.4988725))
            ThreePointArc((1.090552645, -18.4988725), (1.025808677, -17.465009221), (1.911922611, -16.928476691))
        make_face()
        with BuildLine():
            Line((-32.5, -17.928476691), (-32.5, -27.485287367))
            ThreePointArc((-32.5, -27.485287367), (-31.957581581, -28.37445501), (-30.918761806, -28.299020838))
            Line((-30.918761806, -28.299020838), (-17.53922686, -18.742210162))
            ThreePointArc((-17.53922686, -18.742210162), (-17.168169545, -17.62329926), (-18.120465053, -16.928476691))
            Line((-18.120465053, -16.928476691), (-31.5, -16.928476691))
            ThreePointArc((-31.5, -16.928476691), (-32.207106781, -17.22136991), (-32.5, -17.928476691))
        make_face()
        with BuildLine():
            Line((-23.997185346, -33.186266529), (-4.489724414, -19.252365863))
            ThreePointArc((-4.489724414, -19.252365863), (-3.737550205, -19.080817203), (-3.087116254, -19.495703525))
            Line((-3.087116254, -19.495703525), (6.589203652, -33.429604191))
            ThreePointArc((6.589203652, -33.429604191), (6.653947621, -34.463467469), (5.767833687, -35))
            Line((5.767833687, -35), (-23.415947152, -35))
            ThreePointArc((-23.415947152, -35), (-24.368242661, -34.305177431), (-23.997185346, -33.186266529))
        make_face()
        with BuildLine():
            Line((28.087116254, -19.495703525), (18.410796348, -33.429604191))
            ThreePointArc((18.410796348, -33.429604191), (18.346052379, -34.463467469), (19.232166313, -35))
            Line((19.232166313, -35), (48.415947152, -35))
            ThreePointArc((48.415947152, -35), (49.368242661, -34.305177431), (48.997185346, -33.186266529))
            Line((48.997185346, -33.186266529), (29.489724414, -19.252365863))
            ThreePointArc((29.489724414, -19.252365863), (28.737550205, -19.080817203), (28.087116254, -19.495703525))
        make_face()
        with BuildLine():
            Line((55.918761806, -28.299020838), (42.53922686, -18.742210162))
            ThreePointArc((42.53922686, -18.742210162), (42.168169545, -17.62329926), (43.120465053, -16.928476691))
            Line((43.120465053, -16.928476691), (56.5, -16.928476691))
            ThreePointArc((56.5, -16.928476691), (57.207106781, -17.22136991), (57.5, -17.928476691))
            Line((57.5, -17.928476691), (57.5, -27.485287367))
            ThreePointArc((57.5, -27.485287367), (56.957581581, -28.37445501), (55.918761806, -28.299020838))
        make_face()
    extrude(amount=-CUT_EXTRUDE_1_DEPTH, mode=Mode.SUBTRACT)


solid = part.part
